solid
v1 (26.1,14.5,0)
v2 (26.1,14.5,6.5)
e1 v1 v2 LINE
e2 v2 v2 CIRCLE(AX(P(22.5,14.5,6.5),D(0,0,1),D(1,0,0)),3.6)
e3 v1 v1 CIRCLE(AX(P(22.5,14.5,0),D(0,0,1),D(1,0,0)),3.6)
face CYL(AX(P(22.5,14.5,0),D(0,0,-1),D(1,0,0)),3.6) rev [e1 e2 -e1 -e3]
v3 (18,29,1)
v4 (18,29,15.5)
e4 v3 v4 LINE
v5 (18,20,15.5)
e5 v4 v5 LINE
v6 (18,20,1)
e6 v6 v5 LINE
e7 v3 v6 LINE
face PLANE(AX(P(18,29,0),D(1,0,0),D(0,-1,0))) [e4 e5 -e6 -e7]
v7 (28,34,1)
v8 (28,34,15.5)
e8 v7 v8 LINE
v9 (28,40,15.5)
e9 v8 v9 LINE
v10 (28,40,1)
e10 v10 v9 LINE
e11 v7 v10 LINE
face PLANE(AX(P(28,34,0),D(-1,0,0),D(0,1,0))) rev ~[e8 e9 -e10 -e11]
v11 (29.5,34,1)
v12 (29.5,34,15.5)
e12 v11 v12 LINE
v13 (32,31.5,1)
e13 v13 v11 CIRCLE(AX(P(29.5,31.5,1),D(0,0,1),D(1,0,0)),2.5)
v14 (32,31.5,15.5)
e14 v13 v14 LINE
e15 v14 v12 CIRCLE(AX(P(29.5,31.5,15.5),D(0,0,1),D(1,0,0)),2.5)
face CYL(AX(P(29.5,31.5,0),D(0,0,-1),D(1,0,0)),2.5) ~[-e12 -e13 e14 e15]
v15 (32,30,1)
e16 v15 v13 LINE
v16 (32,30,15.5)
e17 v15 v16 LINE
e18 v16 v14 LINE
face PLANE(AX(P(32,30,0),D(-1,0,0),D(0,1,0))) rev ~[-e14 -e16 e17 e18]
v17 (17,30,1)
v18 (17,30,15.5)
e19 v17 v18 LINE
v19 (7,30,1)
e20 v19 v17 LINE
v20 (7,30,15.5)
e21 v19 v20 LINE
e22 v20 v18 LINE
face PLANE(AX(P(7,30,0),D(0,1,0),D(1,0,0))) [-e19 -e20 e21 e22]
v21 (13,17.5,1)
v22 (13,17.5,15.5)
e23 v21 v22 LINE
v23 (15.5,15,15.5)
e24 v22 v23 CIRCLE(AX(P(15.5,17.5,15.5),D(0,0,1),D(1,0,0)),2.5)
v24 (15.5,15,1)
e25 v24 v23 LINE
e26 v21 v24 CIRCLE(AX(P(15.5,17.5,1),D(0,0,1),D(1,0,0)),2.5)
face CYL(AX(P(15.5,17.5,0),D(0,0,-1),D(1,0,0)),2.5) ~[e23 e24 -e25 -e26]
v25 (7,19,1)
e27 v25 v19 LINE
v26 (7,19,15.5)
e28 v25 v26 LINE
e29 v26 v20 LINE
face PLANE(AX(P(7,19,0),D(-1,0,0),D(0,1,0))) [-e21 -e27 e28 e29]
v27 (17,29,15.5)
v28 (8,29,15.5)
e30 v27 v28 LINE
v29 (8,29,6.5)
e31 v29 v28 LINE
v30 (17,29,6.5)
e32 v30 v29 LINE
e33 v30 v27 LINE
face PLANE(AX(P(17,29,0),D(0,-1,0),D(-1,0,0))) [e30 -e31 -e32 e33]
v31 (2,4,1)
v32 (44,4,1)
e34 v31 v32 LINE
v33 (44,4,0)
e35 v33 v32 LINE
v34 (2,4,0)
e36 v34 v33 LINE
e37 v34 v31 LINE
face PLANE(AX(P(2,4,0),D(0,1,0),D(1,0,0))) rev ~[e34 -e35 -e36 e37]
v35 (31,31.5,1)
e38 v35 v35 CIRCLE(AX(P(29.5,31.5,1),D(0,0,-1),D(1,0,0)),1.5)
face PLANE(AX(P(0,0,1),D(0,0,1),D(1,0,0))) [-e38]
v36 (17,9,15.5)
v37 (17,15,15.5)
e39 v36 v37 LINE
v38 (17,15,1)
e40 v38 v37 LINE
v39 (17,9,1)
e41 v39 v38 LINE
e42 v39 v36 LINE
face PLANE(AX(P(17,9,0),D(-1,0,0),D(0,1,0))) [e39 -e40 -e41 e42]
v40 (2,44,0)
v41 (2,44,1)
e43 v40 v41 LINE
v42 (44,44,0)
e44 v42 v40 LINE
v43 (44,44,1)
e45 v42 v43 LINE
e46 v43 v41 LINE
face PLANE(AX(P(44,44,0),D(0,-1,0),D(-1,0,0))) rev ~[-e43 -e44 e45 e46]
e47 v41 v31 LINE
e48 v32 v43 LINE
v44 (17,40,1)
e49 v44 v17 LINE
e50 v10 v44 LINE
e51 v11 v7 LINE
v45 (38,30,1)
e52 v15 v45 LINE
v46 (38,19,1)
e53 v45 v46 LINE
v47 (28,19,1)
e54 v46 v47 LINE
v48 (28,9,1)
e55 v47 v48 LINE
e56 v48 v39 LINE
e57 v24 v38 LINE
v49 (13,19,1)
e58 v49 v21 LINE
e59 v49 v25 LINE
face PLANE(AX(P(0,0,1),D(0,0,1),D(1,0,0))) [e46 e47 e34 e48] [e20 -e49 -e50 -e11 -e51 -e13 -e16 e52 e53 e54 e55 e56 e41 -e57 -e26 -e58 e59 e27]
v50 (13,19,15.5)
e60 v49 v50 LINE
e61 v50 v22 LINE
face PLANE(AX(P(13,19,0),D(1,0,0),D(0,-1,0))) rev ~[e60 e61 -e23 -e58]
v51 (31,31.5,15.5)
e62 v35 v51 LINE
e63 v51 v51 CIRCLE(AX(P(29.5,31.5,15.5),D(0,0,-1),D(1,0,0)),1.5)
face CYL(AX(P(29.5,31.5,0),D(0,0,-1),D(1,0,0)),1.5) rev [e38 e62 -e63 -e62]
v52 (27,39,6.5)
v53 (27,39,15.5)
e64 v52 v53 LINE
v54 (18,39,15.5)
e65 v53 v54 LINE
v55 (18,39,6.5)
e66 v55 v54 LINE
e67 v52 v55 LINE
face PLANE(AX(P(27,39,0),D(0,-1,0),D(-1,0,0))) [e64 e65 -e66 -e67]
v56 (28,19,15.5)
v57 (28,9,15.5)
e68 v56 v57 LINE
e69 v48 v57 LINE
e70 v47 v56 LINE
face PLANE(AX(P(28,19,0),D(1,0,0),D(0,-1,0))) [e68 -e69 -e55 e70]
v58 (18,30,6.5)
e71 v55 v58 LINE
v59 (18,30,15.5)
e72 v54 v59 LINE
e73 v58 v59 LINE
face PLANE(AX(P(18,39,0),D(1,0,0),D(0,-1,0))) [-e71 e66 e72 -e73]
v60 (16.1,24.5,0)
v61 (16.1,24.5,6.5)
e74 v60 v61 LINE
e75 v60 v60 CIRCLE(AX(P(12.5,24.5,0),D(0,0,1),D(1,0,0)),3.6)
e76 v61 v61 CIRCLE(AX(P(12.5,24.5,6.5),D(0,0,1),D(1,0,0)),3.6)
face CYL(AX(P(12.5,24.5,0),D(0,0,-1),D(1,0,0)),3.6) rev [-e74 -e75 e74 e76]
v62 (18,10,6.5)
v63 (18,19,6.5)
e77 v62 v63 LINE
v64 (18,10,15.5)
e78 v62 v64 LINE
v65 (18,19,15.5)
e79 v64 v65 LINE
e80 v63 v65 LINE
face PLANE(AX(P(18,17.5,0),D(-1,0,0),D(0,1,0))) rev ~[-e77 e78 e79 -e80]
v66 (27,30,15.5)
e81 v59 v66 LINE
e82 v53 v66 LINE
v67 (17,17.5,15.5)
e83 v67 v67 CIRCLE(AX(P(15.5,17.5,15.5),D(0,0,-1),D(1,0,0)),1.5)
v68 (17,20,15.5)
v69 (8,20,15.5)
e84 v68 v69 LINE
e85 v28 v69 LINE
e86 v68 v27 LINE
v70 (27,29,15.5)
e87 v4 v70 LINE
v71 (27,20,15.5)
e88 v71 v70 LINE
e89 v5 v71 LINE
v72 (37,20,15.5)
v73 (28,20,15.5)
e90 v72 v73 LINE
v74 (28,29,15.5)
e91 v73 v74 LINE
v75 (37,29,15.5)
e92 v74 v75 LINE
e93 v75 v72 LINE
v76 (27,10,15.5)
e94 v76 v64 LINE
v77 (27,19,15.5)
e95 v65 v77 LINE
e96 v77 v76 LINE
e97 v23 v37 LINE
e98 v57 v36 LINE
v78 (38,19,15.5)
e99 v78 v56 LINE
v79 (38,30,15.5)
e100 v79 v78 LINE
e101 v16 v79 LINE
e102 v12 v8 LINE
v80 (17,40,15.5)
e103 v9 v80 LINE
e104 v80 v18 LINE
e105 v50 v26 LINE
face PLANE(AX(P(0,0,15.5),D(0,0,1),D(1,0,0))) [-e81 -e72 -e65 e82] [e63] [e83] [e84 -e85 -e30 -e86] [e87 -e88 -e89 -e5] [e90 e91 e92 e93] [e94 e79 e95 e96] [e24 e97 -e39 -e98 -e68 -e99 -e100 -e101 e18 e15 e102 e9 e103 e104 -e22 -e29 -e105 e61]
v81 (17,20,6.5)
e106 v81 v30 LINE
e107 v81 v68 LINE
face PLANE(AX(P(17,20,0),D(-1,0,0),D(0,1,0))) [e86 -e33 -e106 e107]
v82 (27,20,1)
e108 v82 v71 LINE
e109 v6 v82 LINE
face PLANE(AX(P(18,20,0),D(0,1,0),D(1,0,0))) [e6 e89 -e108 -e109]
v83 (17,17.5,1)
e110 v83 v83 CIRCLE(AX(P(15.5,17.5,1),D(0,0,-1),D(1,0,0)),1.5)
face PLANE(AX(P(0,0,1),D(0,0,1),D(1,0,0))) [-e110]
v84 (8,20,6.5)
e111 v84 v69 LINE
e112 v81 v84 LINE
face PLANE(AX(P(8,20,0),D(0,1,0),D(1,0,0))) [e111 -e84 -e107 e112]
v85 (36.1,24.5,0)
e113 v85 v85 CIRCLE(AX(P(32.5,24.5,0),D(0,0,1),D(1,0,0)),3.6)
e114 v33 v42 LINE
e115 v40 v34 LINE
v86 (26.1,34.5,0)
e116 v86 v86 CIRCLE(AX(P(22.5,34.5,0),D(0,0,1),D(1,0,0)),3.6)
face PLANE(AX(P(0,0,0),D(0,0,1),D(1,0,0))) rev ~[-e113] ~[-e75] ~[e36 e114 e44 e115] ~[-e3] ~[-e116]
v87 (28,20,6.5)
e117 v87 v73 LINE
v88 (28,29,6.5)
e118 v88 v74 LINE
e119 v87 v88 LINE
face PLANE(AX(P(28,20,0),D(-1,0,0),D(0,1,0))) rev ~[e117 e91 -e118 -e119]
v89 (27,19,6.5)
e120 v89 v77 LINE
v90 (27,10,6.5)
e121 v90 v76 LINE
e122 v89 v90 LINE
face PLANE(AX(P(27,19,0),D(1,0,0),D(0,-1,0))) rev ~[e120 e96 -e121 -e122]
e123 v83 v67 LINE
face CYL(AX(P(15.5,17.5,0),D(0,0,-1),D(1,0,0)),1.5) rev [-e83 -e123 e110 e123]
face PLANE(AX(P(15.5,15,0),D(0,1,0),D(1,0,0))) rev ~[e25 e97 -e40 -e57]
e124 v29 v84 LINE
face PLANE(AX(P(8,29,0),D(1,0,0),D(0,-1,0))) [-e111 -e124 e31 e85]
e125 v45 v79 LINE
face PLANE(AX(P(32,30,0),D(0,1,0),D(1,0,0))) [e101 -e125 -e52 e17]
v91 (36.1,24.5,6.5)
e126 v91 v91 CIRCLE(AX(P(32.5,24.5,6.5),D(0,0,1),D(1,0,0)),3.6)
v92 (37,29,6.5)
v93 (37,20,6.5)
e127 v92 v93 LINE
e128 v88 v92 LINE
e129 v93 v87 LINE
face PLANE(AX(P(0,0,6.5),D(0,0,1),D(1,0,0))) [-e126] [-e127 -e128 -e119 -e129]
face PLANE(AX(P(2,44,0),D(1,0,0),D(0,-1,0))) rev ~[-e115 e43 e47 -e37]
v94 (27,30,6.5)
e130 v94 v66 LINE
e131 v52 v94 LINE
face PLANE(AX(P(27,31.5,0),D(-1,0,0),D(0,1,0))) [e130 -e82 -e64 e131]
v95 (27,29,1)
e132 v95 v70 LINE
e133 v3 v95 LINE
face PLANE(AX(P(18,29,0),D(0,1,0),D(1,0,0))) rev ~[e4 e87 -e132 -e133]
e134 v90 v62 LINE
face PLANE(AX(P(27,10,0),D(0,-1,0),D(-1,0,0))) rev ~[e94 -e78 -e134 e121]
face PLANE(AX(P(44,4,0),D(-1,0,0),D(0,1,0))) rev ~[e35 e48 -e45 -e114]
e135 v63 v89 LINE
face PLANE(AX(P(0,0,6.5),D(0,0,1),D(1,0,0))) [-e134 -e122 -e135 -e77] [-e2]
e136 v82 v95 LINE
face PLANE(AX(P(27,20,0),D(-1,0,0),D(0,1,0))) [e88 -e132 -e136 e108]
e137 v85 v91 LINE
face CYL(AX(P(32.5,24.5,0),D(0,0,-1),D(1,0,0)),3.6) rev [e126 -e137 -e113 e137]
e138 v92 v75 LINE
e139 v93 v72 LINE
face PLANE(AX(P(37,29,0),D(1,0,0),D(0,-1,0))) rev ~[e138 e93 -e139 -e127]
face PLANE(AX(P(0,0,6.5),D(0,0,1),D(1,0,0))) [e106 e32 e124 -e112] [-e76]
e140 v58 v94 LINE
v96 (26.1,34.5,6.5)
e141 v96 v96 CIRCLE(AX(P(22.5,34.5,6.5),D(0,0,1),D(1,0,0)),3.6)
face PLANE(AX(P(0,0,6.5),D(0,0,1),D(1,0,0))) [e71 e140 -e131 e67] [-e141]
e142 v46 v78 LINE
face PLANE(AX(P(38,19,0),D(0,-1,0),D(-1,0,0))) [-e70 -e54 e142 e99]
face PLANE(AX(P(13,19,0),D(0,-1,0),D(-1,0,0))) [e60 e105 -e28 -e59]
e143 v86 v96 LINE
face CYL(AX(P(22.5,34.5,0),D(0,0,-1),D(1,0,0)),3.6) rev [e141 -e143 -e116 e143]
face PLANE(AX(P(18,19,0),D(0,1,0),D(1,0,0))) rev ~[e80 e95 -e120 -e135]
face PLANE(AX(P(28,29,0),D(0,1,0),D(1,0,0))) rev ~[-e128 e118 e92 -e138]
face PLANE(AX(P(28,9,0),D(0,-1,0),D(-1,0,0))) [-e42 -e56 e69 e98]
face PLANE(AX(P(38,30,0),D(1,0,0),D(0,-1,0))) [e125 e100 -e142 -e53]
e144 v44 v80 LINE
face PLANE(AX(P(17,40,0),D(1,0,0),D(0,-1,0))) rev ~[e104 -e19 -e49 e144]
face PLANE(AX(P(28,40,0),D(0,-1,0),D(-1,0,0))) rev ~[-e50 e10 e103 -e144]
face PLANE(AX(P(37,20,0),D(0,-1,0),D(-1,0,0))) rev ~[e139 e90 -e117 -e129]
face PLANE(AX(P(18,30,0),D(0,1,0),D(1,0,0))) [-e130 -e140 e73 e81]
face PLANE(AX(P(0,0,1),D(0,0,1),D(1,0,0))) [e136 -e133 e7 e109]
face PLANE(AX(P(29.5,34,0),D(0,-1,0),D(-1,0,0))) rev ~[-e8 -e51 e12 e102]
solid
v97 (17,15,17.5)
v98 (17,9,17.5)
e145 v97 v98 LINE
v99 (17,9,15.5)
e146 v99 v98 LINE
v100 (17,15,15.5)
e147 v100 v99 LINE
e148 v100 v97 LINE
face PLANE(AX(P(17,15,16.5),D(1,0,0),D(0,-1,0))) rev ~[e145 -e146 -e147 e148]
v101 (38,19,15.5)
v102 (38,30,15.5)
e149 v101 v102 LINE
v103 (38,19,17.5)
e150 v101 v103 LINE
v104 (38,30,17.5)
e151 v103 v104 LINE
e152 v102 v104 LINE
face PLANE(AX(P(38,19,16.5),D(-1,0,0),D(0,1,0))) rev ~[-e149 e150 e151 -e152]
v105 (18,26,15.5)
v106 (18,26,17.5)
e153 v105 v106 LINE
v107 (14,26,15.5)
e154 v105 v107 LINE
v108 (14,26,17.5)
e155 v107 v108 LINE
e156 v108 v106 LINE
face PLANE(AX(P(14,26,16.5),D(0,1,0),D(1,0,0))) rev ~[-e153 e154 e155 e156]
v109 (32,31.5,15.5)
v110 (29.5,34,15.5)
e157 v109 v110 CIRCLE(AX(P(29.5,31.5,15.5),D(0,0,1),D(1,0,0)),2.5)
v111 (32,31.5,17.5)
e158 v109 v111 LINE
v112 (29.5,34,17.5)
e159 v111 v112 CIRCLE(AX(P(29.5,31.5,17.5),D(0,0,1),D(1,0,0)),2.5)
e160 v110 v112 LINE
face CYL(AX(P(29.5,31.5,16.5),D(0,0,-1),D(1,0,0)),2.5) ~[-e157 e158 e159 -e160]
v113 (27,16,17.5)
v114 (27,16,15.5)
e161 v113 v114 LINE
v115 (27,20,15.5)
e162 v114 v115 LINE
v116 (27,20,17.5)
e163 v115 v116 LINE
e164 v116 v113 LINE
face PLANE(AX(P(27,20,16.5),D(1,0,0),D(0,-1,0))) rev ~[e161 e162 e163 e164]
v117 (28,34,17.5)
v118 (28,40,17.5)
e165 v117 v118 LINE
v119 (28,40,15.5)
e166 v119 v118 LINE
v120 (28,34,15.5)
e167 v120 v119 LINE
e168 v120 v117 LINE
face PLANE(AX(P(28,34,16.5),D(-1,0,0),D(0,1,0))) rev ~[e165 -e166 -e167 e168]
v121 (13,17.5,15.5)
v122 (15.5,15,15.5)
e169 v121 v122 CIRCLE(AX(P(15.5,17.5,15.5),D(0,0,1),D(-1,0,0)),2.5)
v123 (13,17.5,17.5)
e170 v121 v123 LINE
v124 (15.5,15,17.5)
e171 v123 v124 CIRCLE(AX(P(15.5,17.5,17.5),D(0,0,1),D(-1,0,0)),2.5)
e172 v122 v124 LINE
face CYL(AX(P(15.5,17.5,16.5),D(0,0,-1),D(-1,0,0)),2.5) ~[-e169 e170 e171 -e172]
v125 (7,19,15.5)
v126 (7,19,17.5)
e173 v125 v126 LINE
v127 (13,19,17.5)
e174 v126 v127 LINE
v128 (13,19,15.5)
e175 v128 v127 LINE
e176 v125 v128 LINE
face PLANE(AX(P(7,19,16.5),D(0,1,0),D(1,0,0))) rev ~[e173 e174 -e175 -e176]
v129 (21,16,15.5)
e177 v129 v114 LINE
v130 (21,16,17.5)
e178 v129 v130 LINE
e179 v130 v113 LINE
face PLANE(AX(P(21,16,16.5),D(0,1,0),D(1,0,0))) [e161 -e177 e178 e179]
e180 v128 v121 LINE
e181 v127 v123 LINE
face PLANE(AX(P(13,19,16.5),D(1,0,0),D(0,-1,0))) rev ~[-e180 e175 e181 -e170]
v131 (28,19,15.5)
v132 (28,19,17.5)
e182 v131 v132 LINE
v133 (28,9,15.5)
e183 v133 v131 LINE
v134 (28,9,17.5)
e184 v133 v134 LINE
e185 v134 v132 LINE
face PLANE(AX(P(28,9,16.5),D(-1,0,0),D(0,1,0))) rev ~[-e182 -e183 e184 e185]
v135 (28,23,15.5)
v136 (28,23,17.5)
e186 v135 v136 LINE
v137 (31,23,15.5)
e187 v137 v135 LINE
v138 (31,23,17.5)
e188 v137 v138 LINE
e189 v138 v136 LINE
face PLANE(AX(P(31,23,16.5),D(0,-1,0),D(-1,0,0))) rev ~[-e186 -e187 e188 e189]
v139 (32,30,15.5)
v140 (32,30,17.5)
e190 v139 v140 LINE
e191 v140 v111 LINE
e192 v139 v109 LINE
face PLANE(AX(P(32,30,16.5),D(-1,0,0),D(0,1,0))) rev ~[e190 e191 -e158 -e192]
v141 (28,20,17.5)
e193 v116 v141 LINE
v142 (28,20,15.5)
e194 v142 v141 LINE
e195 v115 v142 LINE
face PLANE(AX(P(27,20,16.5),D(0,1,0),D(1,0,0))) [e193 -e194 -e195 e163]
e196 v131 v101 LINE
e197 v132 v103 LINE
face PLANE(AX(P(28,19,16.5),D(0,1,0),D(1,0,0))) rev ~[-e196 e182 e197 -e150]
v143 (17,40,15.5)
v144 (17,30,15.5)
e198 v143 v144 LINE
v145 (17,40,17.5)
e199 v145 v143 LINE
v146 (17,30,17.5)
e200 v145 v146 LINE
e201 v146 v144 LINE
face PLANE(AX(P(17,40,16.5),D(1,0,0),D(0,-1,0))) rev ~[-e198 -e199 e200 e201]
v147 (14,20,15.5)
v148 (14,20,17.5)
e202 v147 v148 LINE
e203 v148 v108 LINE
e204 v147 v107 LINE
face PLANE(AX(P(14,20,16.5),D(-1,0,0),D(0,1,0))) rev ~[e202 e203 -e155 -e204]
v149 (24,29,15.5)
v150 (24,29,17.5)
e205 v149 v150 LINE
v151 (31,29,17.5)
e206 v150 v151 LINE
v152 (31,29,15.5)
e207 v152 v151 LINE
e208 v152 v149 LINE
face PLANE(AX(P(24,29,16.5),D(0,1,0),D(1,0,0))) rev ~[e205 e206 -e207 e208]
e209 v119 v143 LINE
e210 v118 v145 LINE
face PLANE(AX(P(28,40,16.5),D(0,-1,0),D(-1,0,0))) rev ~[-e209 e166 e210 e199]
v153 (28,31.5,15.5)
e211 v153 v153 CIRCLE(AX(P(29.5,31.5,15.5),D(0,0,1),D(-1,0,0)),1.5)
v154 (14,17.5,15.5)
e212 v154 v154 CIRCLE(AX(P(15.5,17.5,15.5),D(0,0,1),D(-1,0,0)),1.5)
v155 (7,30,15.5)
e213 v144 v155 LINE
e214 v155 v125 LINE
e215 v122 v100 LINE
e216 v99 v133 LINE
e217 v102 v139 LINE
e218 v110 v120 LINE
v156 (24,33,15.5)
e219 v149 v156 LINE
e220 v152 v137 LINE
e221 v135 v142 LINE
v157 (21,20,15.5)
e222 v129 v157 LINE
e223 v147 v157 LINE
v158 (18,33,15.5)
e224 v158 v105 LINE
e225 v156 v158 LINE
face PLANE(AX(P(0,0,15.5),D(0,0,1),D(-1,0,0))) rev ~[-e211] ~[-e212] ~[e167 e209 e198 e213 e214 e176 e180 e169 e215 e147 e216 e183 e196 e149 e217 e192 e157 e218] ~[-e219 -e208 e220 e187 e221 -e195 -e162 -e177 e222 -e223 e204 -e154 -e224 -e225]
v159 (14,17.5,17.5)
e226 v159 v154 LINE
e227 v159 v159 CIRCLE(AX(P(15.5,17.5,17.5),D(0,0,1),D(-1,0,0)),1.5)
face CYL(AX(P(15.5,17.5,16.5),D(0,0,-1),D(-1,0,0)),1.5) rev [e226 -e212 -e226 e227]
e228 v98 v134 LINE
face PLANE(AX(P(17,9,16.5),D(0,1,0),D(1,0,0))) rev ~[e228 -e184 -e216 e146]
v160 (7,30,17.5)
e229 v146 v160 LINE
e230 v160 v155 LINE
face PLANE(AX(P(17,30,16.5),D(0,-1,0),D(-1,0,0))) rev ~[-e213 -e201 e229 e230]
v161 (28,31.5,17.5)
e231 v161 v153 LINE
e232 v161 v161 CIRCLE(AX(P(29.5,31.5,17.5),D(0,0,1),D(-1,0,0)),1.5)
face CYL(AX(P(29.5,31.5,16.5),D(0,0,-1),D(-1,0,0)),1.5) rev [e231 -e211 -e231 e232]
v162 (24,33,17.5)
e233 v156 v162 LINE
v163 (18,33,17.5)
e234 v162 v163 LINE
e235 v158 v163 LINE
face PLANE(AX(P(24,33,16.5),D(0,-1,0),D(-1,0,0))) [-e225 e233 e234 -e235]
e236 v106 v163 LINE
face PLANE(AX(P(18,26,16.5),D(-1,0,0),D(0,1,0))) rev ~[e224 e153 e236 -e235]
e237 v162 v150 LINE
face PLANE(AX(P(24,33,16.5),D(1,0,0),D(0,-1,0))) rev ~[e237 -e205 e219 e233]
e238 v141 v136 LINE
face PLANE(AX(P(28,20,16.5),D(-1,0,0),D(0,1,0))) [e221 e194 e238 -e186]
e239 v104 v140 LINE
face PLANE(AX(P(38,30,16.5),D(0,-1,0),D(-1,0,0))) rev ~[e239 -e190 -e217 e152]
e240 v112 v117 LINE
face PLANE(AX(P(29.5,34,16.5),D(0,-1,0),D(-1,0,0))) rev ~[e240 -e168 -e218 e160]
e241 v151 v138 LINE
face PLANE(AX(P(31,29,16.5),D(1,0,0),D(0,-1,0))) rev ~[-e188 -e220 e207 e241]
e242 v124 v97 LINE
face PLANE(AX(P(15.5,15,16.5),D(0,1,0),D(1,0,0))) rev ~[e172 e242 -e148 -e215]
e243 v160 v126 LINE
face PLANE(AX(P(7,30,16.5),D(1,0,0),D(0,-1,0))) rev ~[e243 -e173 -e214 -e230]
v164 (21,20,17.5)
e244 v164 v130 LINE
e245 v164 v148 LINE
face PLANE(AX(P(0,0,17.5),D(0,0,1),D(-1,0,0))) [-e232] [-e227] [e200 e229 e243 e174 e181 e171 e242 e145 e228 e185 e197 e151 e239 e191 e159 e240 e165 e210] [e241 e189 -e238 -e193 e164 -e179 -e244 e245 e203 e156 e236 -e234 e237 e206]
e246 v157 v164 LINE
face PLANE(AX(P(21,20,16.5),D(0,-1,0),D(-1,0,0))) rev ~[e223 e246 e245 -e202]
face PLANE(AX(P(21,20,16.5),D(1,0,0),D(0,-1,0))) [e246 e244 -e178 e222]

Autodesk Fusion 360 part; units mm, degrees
sketch "Button Face" plane through (0, 0, 0) normal (0, 0, 1) x (1, 0, 0)
  line L0 (2, 4) -> (44, 4)
  line L1 (44, 4) -> (44, 44)
  line L2 (44, 44) -> (2, 44)
  line L3 (2, 44) -> (2, 4)
  line L4 (7, 30) -> (18, 30)
  line L5 (18, 30) -> (18, 19)
  line L6 (18, 19) -> (7, 19)
  line L7 (7, 19) -> (7, 30)
  line L8 (17, 29) -> (28, 29)
  line L9 (28, 29) -> (28, 40)
  line L10 (28, 40) -> (17, 40)
  line L11 (17, 40) -> (17, 29)
  line L12 (27, 30) -> (38, 30)
  line L13 (38, 30) -> (38, 19)
  line L14 (38, 19) -> (27, 19)
  line L15 (27, 19) -> (27, 30)
  line L16 (17, 20) -> (28, 20)
  line L17 (28, 20) -> (28, 9)
  line L18 (28, 9) -> (17, 9)
  line L19 (17, 9) -> (17, 20)
  line L20 (28, 29) -> (37, 29)
  line L21 (37, 29) -> (37, 20)
  line L22 (37, 20) -> (28, 20)
  line L23 (28, 20) -> (28, 29)
  line L24 (17, 29) -> (8, 29)
  line L25 (8, 29) -> (8, 20)
  line L26 (8, 20) -> (17, 20)
  line L27 (17, 20) -> (17, 29)
  line L28 (18, 19) -> (27, 19)
  line L29 (27, 19) -> (27, 10)
  line L30 (27, 10) -> (18, 10)
  line L31 (18, 10) -> (18, 19)
  line L32 (18, 30) -> (27, 30)
  line L33 (27, 30) -> (27, 39)
  line L34 (27, 39) -> (18, 39)
  line L35 (18, 39) -> (18, 30)
  circle A0 centre (22.5, 14.5) radius 3.6
  circle A1 centre (32.5, 24.5) radius 3.6
  circle A2 centre (22.5, 34.5) radius 3.6
  circle A3 centre (12.5, 24.5) radius 3.6
  circle A4 centre (29.5, 31.5) radius 1.5
  circle A5 centre (29.5, 31.5) radius 2.5
  line L36 (29.5, 34) -> (28, 34)
  line L37 (28, 34) -> (28, 33.5)
  line L38 (28, 33.5) -> (29.5, 33.5)
  line L39 (29.5, 33.5) -> (29.5, 34)
  line L40 (32, 31.5) -> (31.5, 31.5)
  line L41 (31.5, 31.5) -> (31.5, 30)
  line L42 (31.5, 30) -> (32, 30)
  line L43 (32, 30) -> (32, 31.5)
  circle A6 centre (15.5, 17.5) radius 1.5
  circle A7 centre (15.5, 17.5) radius 2.5
  line L44 (15.5, 15) -> (17, 15)
  line L45 (17, 15) -> (17, 15.5)
  line L46 (17, 15.5) -> (15.5, 15.5)
  line L47 (15.5, 15.5) -> (15.5, 15)
  line L48 (13, 17.5) -> (13.5, 17.5)
  line L49 (13.5, 17.5) -> (13.5, 19)
  line L50 (13.5, 19) -> (13, 19)
  line L51 (13, 19) -> (13, 17.5)
  dimension "d3" = 11
  dimension "d4" = 11
  dimension "d5" = 11
  dimension "d6" = 11
  dimension "d7" = 11
  dimension "d8" = 11
  dimension "d9" = 11
  dimension "d10" = 11
  dimension "d11" = 1
  dimension "d12" = 1
  dimension "d13" = 1
  dimension "d14" = 1
  dimension "d15" = 1
  dimension "d16" = 1
  dimension "d17" = 9
  dimension "d18" = 9
  dimension "d19" = 9
  dimension "d20" = 9
  dimension "d21" = 9
  dimension "d22" = 9
  dimension "d23" = 9
  dimension "d24" = 9
  dimension "d25" = 7.2
  dimension "d26" = 4.5
  dimension "d27" = 4.5
  dimension "d28" = 7.2
  dimension "d29" = 7.2
  dimension "d30" = 7.2
  dimension "d31" = 4.5
  dimension "d32" = 4.5
  dimension "d33" = 4.5
  dimension "d34" = 4.5
  dimension "d35" = 4.5
  dimension "d36" = 4.5
  dimension "d38" = 3
  dimension "d39" = 1.5
  dimension "d40" = 1.5
  dimension "d41" = 5
  dimension "d42" = 3
  dimension "d43" = 1.5
  dimension "d44" = 1.5
  dimension "d45" = 5
extrude "Extrude1" add sketch "Button Face" along normal blind 1 contours L0 L1 L2 L3 | L5 L8 L15 L16 makes body 1 at (36.6667, 10.6667, 0) makes body 2 at (21, 26, 0)
extrude "Extrude2" add sketch "Button Face" along normal blind 15.5 contours L4 L6 L7 L11 L24 L25 L26 A7 L50 | L4 L9 L10 L11 L33 L34 L35 A5 L37 | L4 L5 L8 L11 | L5 L8 L15 L32 | L5 L8 L16 L27 | L6 A7 L50 L51 | L12 L33 A5 | L8 L9 L12 L15 A5 | L5 L6 L16 L19 A7 | L19 L26 A7 | L6 L19 A7 | A7 L48 L49 | L6 L19 A6 A7 L46 L47 L48 L49 | L5 L15 L16 L28 | L8 L15 L16 L23 | L9 L12 A5 | L9 L12 A5 | L9 A5 L36 L37 | L6 L19 A7 | L6 L19 A6 | A7 L46 L47 | L19 A7 L44 L45 | L6 L31 A7 | L14 L15 L16 L17 | L9 L20 A5 | L9 L12 A5 | L9 L12 A4 | L9 L12 A4 A5 L38 L39 L40 L41 | A5 L38 L39 | L6 L19 A7 | L14 L17 L18 L19 L29 L30 L31 A7 L45 | L12 L13 L14 L17 L20 L21 L22 A5 L42 | L12 A5 L42 L43 | A5 L40 L41 bodies 1 2
extrude "Extrude3" add sketch "Button Face" along normal blind 1 contours A6 | A4 bodies 1
extrude "Extrude4" add sketch "Button Face" along normal blind 6.5 contours L32 L33 L34 L35 | L24 L25 L26 L27 | L28 L29 L30 L31 | L20 L21 L22 L23 bodies 1
sketch "Button Back" plane through (0, 0, 15.5) normal (0, 0, 1) x (-1, 0, 0)
  line L0 (-27, -10) -> (-18, -10)
  line L1 (-18, -10) -> (-18, -19)
  line L2 (-18, -19) -> (-27, -19)
  line L3 (-27, -19) -> (-27, -10)
  circle A0 centre (-15.5, -17.5) radius 1.5
  line L4 (-18, -20) -> (-18, -29)
  line L5 (-18, -29) -> (-27, -29)
  line L6 (-27, -29) -> (-27, -20)
  line L7 (-27, -20) -> (-18, -20)
  line L8 (-37, -20) -> (-28, -20)
  line L9 (-28, -20) -> (-28, -29)
  line L10 (-28, -29) -> (-37, -29)
  line L11 (-37, -29) -> (-37, -20)
  circle A1 centre (-29.5, -31.5) radius 1.5
  line L12 (-18, -30) -> (-18, -39)
  line L13 (-18, -39) -> (-27, -39)
  line L14 (-27, -39) -> (-27, -30)
  line L15 (-27, -30) -> (-18, -30)
  line L16 (-17, -29) -> (-17, -20)
  line L17 (-17, -20) -> (-8, -20)
  line L18 (-8, -20) -> (-8, -29)
  line L19 (-8, -29) -> (-17, -29)
  line L20 (-7, -19) -> (-13, -19)
  line L21 (-13, -19) -> (-13, -17.5)
  arc A2 (-13, -17.5) -> (-15.5, -15) centre (-15.5, -17.5) ccw
  line L22 (-15.5, -15) -> (-17, -15)
  line L23 (-17, -15) -> (-17, -9)
  line L24 (-17, -9) -> (-28, -9)
  line L25 (-28, -9) -> (-28, -19)
  line L26 (-28, -19) -> (-38, -19)
  line L27 (-38, -19) -> (-38, -30)
  line L28 (-38, -30) -> (-32, -30)
  line L29 (-32, -30) -> (-32, -31.5)
  arc A3 (-32, -31.5) -> (-29.5, -34) centre (-29.5, -31.5) ccw
  line L30 (-29.5, -34) -> (-28, -34)
  line L31 (-28, -34) -> (-28, -40)
  line L32 (-28, -40) -> (-17, -40)
  line L33 (-17, -40) -> (-17, -30)
  line L34 (-17, -30) -> (-7, -30)
  line L35 (-7, -30) -> (-7, -19)
  line L36 (-8, -29) -> (-17, -29)
  line L37 (-17, -29) -> (-17, -20)
  line L38 (-17, -20) -> (-8, -20)
  line L39 (-8, -20) -> (-8, -29)
  line L40 (-18, -19) -> (-27, -19)
  line L41 (-27, -19) -> (-27, -10)
  line L42 (-27, -10) -> (-18, -10)
  line L43 (-18, -10) -> (-18, -19)
  line L44 (-28, -20) -> (-37, -20)
  line L45 (-37, -20) -> (-37, -29)
  line L46 (-37, -29) -> (-28, -29)
  line L47 (-28, -29) -> (-28, -20)
  line L48 (-27, -30) -> (-18, -30)
  line L49 (-18, -30) -> (-18, -39)
  line L50 (-18, -39) -> (-27, -39)
  line L51 (-27, -39) -> (-27, -30)
  line L52 (-27, -19) -> (-21, -19)
  line L53 (-21, -19) -> (-21, -16)
  line L54 (-21, -16) -> (-27, -16)
  line L55 (-27, -16) -> (-27, -19)
  line L56 (-28, -29) -> (-31, -29)
  line L57 (-31, -29) -> (-31, -23)
  line L58 (-31, -23) -> (-28, -23)
  line L59 (-28, -23) -> (-28, -29)
  line L60 (-18, -30) -> (-24, -30)
  line L61 (-24, -30) -> (-24, -33)
  line L62 (-24, -33) -> (-18, -33)
  line L63 (-18, -33) -> (-18, -30)
  line L64 (-17, -20) -> (-14, -20)
  line L65 (-14, -20) -> (-14, -26)
  line L66 (-14, -26) -> (-17, -26)
  line L67 (-17, -26) -> (-17, -20)
  dimension "d66" = 6
  dimension "d67" = 3
  dimension "d68" = 3
  dimension "d69" = 6
  dimension "d70" = 6
  dimension "d71" = 3
  dimension "d72" = 3
  dimension "d73" = 6
extrude "Extrude5" add sketch "Button Back" along normal blind 1 separate body contours L0 L1 L2 L3 L40 L41 L42 L43 L53 L54 | L8 L9 L10 L11 L44 L45 L46 L47 L57 L58 | L12 L13 L14 L15 L48 L49 L50 L51 L61 L62 | L16 L17 L18 L19 L36 L37 L38 L39 L65 L66 | L20 L21 A2 L22 L23 L24 L25 L26 L27 L28 L29 A3 L30 L31 L32 L33 L34 L35 makes body 3
sketch "Back Wire" plane through (0, 0, 16.5) normal (0, 0, 1) x (-1, 0, 0)
  line L0 (-17, -26) -> (-17, -20)
  line L1 (-18, -30) -> (-18, -33)
  line L2 (-24, -30) -> (-18, -30)
  circle A0 centre (-15.5, -17.5) radius 1.5
  line L3 (-28, -23) -> (-28, -29)
  circle A1 centre (-29.5, -31.5) radius 1.5
  line L4 (-27, -29) -> (-27, -20)
  line L5 (-27, -20) -> (-18, -20)
  line L6 (-18, -20) -> (-18, -29)
  line L7 (-18, -29) -> (-27, -29)
  line L8 (-27, -19) -> (-27, -16)
  line L9 (-21, -19) -> (-27, -19)
  line L10 (-7, -30) -> (-7, -19)
  line L11 (-7, -19) -> (-13, -19)
  line L12 (-13, -19) -> (-13, -17.5)
  arc A2 (-13, -17.5) -> (-15.5, -15) centre (-15.5, -17.5) ccw
  line L13 (-15.5, -15) -> (-17, -15)
  line L14 (-17, -15) -> (-17, -9)
  line L15 (-17, -9) -> (-28, -9)
  line L16 (-28, -9) -> (-28, -19)
  line L17 (-28, -19) -> (-38, -19)
  line L18 (-38, -19) -> (-38, -30)
  line L19 (-38, -30) -> (-32, -30)
  line L20 (-32, -30) -> (-32, -31.5)
  arc A3 (-32, -31.5) -> (-29.5, -34) centre (-29.5, -31.5) ccw
  line L21 (-29.5, -34) -> (-28, -34)
  line L22 (-28, -34) -> (-28, -40)
  line L23 (-28, -40) -> (-17, -40)
  line L24 (-17, -40) -> (-17, -30)
  line L25 (-17, -30) -> (-7, -30)
  line L26 (-17, -26) -> (-18, -26)
  line L27 (-18, -26) -> (-18, -20)
  line L28 (-18, -20) -> (-17, -20)
  line L29 (-17, -20) -> (-17, -26)
  line L30 (-18, -30) -> (-24, -30)
  line L31 (-24, -30) -> (-24, -29)
  line L32 (-24, -29) -> (-18, -29)
  line L33 (-18, -29) -> (-18, -30)
  line L34 (-27, -19) -> (-21, -19)
  line L35 (-21, -19) -> (-21, -20)
  line L36 (-21, -20) -> (-27, -20)
  line L37 (-27, -20) -> (-27, -19)
  line L38 (-27, -20) -> (-28, -20)
  line L39 (-28, -20) -> (-28, -29)
  line L40 (-28, -29) -> (-27, -29)
  line L41 (-27, -29) -> (-27, -20)
  line L42 (-28, -29) -> (-31, -29)
  line L43 (-17, -20) -> (-14, -20)
  line L44 (-18, -33) -> (-24, -33)
  line L45 (-24, -33) -> (-24, -30)
  line L46 (-27, -16) -> (-21, -16)
  line L47 (-21, -16) -> (-21, -19)
  line L48 (-14, -26) -> (-17, -26)
  line L49 (-14, -20) -> (-14, -26)
  line L50 (-31, -23) -> (-28, -23)
  line L51 (-31, -29) -> (-31, -23)
extrude "Extrude6" cut sketch "Back Wire" against normal blind 1 contours L0 L6 L26 L27 L28 L29 | L2 L7 L30 L31 L32 L33 | L5 L9 L34 L35 L36 L37 | L3 L4 L38 L39 L40 L41 bodies 3
copy_body "Body->Comp1" bodies 1 removing the originals makes body 4 in component "Button Holder Face"
copy_body "Body->Comp2" bodies 3 removing the originals makes body 5 in component "Button Holder Back"
extrude "Extrude1'" add 1 faces at (23, 37.6667, 16.5) along direction (0, 0, 1) blind 1 on bodies 5 bodies 5 in component "Button Holder Back"
component "Button Holder Face" placed x (1, 0, 0) y (0, 1, 0) z (0, 0, 1) at (0, 0, 0)
component "Button Holder Back" placed x (1, 0, 0) y (0, 1, 0) z (0, 0, 1) at (0, 0, 0)
equation "d48 = 6.5 mm + 9 mm"
